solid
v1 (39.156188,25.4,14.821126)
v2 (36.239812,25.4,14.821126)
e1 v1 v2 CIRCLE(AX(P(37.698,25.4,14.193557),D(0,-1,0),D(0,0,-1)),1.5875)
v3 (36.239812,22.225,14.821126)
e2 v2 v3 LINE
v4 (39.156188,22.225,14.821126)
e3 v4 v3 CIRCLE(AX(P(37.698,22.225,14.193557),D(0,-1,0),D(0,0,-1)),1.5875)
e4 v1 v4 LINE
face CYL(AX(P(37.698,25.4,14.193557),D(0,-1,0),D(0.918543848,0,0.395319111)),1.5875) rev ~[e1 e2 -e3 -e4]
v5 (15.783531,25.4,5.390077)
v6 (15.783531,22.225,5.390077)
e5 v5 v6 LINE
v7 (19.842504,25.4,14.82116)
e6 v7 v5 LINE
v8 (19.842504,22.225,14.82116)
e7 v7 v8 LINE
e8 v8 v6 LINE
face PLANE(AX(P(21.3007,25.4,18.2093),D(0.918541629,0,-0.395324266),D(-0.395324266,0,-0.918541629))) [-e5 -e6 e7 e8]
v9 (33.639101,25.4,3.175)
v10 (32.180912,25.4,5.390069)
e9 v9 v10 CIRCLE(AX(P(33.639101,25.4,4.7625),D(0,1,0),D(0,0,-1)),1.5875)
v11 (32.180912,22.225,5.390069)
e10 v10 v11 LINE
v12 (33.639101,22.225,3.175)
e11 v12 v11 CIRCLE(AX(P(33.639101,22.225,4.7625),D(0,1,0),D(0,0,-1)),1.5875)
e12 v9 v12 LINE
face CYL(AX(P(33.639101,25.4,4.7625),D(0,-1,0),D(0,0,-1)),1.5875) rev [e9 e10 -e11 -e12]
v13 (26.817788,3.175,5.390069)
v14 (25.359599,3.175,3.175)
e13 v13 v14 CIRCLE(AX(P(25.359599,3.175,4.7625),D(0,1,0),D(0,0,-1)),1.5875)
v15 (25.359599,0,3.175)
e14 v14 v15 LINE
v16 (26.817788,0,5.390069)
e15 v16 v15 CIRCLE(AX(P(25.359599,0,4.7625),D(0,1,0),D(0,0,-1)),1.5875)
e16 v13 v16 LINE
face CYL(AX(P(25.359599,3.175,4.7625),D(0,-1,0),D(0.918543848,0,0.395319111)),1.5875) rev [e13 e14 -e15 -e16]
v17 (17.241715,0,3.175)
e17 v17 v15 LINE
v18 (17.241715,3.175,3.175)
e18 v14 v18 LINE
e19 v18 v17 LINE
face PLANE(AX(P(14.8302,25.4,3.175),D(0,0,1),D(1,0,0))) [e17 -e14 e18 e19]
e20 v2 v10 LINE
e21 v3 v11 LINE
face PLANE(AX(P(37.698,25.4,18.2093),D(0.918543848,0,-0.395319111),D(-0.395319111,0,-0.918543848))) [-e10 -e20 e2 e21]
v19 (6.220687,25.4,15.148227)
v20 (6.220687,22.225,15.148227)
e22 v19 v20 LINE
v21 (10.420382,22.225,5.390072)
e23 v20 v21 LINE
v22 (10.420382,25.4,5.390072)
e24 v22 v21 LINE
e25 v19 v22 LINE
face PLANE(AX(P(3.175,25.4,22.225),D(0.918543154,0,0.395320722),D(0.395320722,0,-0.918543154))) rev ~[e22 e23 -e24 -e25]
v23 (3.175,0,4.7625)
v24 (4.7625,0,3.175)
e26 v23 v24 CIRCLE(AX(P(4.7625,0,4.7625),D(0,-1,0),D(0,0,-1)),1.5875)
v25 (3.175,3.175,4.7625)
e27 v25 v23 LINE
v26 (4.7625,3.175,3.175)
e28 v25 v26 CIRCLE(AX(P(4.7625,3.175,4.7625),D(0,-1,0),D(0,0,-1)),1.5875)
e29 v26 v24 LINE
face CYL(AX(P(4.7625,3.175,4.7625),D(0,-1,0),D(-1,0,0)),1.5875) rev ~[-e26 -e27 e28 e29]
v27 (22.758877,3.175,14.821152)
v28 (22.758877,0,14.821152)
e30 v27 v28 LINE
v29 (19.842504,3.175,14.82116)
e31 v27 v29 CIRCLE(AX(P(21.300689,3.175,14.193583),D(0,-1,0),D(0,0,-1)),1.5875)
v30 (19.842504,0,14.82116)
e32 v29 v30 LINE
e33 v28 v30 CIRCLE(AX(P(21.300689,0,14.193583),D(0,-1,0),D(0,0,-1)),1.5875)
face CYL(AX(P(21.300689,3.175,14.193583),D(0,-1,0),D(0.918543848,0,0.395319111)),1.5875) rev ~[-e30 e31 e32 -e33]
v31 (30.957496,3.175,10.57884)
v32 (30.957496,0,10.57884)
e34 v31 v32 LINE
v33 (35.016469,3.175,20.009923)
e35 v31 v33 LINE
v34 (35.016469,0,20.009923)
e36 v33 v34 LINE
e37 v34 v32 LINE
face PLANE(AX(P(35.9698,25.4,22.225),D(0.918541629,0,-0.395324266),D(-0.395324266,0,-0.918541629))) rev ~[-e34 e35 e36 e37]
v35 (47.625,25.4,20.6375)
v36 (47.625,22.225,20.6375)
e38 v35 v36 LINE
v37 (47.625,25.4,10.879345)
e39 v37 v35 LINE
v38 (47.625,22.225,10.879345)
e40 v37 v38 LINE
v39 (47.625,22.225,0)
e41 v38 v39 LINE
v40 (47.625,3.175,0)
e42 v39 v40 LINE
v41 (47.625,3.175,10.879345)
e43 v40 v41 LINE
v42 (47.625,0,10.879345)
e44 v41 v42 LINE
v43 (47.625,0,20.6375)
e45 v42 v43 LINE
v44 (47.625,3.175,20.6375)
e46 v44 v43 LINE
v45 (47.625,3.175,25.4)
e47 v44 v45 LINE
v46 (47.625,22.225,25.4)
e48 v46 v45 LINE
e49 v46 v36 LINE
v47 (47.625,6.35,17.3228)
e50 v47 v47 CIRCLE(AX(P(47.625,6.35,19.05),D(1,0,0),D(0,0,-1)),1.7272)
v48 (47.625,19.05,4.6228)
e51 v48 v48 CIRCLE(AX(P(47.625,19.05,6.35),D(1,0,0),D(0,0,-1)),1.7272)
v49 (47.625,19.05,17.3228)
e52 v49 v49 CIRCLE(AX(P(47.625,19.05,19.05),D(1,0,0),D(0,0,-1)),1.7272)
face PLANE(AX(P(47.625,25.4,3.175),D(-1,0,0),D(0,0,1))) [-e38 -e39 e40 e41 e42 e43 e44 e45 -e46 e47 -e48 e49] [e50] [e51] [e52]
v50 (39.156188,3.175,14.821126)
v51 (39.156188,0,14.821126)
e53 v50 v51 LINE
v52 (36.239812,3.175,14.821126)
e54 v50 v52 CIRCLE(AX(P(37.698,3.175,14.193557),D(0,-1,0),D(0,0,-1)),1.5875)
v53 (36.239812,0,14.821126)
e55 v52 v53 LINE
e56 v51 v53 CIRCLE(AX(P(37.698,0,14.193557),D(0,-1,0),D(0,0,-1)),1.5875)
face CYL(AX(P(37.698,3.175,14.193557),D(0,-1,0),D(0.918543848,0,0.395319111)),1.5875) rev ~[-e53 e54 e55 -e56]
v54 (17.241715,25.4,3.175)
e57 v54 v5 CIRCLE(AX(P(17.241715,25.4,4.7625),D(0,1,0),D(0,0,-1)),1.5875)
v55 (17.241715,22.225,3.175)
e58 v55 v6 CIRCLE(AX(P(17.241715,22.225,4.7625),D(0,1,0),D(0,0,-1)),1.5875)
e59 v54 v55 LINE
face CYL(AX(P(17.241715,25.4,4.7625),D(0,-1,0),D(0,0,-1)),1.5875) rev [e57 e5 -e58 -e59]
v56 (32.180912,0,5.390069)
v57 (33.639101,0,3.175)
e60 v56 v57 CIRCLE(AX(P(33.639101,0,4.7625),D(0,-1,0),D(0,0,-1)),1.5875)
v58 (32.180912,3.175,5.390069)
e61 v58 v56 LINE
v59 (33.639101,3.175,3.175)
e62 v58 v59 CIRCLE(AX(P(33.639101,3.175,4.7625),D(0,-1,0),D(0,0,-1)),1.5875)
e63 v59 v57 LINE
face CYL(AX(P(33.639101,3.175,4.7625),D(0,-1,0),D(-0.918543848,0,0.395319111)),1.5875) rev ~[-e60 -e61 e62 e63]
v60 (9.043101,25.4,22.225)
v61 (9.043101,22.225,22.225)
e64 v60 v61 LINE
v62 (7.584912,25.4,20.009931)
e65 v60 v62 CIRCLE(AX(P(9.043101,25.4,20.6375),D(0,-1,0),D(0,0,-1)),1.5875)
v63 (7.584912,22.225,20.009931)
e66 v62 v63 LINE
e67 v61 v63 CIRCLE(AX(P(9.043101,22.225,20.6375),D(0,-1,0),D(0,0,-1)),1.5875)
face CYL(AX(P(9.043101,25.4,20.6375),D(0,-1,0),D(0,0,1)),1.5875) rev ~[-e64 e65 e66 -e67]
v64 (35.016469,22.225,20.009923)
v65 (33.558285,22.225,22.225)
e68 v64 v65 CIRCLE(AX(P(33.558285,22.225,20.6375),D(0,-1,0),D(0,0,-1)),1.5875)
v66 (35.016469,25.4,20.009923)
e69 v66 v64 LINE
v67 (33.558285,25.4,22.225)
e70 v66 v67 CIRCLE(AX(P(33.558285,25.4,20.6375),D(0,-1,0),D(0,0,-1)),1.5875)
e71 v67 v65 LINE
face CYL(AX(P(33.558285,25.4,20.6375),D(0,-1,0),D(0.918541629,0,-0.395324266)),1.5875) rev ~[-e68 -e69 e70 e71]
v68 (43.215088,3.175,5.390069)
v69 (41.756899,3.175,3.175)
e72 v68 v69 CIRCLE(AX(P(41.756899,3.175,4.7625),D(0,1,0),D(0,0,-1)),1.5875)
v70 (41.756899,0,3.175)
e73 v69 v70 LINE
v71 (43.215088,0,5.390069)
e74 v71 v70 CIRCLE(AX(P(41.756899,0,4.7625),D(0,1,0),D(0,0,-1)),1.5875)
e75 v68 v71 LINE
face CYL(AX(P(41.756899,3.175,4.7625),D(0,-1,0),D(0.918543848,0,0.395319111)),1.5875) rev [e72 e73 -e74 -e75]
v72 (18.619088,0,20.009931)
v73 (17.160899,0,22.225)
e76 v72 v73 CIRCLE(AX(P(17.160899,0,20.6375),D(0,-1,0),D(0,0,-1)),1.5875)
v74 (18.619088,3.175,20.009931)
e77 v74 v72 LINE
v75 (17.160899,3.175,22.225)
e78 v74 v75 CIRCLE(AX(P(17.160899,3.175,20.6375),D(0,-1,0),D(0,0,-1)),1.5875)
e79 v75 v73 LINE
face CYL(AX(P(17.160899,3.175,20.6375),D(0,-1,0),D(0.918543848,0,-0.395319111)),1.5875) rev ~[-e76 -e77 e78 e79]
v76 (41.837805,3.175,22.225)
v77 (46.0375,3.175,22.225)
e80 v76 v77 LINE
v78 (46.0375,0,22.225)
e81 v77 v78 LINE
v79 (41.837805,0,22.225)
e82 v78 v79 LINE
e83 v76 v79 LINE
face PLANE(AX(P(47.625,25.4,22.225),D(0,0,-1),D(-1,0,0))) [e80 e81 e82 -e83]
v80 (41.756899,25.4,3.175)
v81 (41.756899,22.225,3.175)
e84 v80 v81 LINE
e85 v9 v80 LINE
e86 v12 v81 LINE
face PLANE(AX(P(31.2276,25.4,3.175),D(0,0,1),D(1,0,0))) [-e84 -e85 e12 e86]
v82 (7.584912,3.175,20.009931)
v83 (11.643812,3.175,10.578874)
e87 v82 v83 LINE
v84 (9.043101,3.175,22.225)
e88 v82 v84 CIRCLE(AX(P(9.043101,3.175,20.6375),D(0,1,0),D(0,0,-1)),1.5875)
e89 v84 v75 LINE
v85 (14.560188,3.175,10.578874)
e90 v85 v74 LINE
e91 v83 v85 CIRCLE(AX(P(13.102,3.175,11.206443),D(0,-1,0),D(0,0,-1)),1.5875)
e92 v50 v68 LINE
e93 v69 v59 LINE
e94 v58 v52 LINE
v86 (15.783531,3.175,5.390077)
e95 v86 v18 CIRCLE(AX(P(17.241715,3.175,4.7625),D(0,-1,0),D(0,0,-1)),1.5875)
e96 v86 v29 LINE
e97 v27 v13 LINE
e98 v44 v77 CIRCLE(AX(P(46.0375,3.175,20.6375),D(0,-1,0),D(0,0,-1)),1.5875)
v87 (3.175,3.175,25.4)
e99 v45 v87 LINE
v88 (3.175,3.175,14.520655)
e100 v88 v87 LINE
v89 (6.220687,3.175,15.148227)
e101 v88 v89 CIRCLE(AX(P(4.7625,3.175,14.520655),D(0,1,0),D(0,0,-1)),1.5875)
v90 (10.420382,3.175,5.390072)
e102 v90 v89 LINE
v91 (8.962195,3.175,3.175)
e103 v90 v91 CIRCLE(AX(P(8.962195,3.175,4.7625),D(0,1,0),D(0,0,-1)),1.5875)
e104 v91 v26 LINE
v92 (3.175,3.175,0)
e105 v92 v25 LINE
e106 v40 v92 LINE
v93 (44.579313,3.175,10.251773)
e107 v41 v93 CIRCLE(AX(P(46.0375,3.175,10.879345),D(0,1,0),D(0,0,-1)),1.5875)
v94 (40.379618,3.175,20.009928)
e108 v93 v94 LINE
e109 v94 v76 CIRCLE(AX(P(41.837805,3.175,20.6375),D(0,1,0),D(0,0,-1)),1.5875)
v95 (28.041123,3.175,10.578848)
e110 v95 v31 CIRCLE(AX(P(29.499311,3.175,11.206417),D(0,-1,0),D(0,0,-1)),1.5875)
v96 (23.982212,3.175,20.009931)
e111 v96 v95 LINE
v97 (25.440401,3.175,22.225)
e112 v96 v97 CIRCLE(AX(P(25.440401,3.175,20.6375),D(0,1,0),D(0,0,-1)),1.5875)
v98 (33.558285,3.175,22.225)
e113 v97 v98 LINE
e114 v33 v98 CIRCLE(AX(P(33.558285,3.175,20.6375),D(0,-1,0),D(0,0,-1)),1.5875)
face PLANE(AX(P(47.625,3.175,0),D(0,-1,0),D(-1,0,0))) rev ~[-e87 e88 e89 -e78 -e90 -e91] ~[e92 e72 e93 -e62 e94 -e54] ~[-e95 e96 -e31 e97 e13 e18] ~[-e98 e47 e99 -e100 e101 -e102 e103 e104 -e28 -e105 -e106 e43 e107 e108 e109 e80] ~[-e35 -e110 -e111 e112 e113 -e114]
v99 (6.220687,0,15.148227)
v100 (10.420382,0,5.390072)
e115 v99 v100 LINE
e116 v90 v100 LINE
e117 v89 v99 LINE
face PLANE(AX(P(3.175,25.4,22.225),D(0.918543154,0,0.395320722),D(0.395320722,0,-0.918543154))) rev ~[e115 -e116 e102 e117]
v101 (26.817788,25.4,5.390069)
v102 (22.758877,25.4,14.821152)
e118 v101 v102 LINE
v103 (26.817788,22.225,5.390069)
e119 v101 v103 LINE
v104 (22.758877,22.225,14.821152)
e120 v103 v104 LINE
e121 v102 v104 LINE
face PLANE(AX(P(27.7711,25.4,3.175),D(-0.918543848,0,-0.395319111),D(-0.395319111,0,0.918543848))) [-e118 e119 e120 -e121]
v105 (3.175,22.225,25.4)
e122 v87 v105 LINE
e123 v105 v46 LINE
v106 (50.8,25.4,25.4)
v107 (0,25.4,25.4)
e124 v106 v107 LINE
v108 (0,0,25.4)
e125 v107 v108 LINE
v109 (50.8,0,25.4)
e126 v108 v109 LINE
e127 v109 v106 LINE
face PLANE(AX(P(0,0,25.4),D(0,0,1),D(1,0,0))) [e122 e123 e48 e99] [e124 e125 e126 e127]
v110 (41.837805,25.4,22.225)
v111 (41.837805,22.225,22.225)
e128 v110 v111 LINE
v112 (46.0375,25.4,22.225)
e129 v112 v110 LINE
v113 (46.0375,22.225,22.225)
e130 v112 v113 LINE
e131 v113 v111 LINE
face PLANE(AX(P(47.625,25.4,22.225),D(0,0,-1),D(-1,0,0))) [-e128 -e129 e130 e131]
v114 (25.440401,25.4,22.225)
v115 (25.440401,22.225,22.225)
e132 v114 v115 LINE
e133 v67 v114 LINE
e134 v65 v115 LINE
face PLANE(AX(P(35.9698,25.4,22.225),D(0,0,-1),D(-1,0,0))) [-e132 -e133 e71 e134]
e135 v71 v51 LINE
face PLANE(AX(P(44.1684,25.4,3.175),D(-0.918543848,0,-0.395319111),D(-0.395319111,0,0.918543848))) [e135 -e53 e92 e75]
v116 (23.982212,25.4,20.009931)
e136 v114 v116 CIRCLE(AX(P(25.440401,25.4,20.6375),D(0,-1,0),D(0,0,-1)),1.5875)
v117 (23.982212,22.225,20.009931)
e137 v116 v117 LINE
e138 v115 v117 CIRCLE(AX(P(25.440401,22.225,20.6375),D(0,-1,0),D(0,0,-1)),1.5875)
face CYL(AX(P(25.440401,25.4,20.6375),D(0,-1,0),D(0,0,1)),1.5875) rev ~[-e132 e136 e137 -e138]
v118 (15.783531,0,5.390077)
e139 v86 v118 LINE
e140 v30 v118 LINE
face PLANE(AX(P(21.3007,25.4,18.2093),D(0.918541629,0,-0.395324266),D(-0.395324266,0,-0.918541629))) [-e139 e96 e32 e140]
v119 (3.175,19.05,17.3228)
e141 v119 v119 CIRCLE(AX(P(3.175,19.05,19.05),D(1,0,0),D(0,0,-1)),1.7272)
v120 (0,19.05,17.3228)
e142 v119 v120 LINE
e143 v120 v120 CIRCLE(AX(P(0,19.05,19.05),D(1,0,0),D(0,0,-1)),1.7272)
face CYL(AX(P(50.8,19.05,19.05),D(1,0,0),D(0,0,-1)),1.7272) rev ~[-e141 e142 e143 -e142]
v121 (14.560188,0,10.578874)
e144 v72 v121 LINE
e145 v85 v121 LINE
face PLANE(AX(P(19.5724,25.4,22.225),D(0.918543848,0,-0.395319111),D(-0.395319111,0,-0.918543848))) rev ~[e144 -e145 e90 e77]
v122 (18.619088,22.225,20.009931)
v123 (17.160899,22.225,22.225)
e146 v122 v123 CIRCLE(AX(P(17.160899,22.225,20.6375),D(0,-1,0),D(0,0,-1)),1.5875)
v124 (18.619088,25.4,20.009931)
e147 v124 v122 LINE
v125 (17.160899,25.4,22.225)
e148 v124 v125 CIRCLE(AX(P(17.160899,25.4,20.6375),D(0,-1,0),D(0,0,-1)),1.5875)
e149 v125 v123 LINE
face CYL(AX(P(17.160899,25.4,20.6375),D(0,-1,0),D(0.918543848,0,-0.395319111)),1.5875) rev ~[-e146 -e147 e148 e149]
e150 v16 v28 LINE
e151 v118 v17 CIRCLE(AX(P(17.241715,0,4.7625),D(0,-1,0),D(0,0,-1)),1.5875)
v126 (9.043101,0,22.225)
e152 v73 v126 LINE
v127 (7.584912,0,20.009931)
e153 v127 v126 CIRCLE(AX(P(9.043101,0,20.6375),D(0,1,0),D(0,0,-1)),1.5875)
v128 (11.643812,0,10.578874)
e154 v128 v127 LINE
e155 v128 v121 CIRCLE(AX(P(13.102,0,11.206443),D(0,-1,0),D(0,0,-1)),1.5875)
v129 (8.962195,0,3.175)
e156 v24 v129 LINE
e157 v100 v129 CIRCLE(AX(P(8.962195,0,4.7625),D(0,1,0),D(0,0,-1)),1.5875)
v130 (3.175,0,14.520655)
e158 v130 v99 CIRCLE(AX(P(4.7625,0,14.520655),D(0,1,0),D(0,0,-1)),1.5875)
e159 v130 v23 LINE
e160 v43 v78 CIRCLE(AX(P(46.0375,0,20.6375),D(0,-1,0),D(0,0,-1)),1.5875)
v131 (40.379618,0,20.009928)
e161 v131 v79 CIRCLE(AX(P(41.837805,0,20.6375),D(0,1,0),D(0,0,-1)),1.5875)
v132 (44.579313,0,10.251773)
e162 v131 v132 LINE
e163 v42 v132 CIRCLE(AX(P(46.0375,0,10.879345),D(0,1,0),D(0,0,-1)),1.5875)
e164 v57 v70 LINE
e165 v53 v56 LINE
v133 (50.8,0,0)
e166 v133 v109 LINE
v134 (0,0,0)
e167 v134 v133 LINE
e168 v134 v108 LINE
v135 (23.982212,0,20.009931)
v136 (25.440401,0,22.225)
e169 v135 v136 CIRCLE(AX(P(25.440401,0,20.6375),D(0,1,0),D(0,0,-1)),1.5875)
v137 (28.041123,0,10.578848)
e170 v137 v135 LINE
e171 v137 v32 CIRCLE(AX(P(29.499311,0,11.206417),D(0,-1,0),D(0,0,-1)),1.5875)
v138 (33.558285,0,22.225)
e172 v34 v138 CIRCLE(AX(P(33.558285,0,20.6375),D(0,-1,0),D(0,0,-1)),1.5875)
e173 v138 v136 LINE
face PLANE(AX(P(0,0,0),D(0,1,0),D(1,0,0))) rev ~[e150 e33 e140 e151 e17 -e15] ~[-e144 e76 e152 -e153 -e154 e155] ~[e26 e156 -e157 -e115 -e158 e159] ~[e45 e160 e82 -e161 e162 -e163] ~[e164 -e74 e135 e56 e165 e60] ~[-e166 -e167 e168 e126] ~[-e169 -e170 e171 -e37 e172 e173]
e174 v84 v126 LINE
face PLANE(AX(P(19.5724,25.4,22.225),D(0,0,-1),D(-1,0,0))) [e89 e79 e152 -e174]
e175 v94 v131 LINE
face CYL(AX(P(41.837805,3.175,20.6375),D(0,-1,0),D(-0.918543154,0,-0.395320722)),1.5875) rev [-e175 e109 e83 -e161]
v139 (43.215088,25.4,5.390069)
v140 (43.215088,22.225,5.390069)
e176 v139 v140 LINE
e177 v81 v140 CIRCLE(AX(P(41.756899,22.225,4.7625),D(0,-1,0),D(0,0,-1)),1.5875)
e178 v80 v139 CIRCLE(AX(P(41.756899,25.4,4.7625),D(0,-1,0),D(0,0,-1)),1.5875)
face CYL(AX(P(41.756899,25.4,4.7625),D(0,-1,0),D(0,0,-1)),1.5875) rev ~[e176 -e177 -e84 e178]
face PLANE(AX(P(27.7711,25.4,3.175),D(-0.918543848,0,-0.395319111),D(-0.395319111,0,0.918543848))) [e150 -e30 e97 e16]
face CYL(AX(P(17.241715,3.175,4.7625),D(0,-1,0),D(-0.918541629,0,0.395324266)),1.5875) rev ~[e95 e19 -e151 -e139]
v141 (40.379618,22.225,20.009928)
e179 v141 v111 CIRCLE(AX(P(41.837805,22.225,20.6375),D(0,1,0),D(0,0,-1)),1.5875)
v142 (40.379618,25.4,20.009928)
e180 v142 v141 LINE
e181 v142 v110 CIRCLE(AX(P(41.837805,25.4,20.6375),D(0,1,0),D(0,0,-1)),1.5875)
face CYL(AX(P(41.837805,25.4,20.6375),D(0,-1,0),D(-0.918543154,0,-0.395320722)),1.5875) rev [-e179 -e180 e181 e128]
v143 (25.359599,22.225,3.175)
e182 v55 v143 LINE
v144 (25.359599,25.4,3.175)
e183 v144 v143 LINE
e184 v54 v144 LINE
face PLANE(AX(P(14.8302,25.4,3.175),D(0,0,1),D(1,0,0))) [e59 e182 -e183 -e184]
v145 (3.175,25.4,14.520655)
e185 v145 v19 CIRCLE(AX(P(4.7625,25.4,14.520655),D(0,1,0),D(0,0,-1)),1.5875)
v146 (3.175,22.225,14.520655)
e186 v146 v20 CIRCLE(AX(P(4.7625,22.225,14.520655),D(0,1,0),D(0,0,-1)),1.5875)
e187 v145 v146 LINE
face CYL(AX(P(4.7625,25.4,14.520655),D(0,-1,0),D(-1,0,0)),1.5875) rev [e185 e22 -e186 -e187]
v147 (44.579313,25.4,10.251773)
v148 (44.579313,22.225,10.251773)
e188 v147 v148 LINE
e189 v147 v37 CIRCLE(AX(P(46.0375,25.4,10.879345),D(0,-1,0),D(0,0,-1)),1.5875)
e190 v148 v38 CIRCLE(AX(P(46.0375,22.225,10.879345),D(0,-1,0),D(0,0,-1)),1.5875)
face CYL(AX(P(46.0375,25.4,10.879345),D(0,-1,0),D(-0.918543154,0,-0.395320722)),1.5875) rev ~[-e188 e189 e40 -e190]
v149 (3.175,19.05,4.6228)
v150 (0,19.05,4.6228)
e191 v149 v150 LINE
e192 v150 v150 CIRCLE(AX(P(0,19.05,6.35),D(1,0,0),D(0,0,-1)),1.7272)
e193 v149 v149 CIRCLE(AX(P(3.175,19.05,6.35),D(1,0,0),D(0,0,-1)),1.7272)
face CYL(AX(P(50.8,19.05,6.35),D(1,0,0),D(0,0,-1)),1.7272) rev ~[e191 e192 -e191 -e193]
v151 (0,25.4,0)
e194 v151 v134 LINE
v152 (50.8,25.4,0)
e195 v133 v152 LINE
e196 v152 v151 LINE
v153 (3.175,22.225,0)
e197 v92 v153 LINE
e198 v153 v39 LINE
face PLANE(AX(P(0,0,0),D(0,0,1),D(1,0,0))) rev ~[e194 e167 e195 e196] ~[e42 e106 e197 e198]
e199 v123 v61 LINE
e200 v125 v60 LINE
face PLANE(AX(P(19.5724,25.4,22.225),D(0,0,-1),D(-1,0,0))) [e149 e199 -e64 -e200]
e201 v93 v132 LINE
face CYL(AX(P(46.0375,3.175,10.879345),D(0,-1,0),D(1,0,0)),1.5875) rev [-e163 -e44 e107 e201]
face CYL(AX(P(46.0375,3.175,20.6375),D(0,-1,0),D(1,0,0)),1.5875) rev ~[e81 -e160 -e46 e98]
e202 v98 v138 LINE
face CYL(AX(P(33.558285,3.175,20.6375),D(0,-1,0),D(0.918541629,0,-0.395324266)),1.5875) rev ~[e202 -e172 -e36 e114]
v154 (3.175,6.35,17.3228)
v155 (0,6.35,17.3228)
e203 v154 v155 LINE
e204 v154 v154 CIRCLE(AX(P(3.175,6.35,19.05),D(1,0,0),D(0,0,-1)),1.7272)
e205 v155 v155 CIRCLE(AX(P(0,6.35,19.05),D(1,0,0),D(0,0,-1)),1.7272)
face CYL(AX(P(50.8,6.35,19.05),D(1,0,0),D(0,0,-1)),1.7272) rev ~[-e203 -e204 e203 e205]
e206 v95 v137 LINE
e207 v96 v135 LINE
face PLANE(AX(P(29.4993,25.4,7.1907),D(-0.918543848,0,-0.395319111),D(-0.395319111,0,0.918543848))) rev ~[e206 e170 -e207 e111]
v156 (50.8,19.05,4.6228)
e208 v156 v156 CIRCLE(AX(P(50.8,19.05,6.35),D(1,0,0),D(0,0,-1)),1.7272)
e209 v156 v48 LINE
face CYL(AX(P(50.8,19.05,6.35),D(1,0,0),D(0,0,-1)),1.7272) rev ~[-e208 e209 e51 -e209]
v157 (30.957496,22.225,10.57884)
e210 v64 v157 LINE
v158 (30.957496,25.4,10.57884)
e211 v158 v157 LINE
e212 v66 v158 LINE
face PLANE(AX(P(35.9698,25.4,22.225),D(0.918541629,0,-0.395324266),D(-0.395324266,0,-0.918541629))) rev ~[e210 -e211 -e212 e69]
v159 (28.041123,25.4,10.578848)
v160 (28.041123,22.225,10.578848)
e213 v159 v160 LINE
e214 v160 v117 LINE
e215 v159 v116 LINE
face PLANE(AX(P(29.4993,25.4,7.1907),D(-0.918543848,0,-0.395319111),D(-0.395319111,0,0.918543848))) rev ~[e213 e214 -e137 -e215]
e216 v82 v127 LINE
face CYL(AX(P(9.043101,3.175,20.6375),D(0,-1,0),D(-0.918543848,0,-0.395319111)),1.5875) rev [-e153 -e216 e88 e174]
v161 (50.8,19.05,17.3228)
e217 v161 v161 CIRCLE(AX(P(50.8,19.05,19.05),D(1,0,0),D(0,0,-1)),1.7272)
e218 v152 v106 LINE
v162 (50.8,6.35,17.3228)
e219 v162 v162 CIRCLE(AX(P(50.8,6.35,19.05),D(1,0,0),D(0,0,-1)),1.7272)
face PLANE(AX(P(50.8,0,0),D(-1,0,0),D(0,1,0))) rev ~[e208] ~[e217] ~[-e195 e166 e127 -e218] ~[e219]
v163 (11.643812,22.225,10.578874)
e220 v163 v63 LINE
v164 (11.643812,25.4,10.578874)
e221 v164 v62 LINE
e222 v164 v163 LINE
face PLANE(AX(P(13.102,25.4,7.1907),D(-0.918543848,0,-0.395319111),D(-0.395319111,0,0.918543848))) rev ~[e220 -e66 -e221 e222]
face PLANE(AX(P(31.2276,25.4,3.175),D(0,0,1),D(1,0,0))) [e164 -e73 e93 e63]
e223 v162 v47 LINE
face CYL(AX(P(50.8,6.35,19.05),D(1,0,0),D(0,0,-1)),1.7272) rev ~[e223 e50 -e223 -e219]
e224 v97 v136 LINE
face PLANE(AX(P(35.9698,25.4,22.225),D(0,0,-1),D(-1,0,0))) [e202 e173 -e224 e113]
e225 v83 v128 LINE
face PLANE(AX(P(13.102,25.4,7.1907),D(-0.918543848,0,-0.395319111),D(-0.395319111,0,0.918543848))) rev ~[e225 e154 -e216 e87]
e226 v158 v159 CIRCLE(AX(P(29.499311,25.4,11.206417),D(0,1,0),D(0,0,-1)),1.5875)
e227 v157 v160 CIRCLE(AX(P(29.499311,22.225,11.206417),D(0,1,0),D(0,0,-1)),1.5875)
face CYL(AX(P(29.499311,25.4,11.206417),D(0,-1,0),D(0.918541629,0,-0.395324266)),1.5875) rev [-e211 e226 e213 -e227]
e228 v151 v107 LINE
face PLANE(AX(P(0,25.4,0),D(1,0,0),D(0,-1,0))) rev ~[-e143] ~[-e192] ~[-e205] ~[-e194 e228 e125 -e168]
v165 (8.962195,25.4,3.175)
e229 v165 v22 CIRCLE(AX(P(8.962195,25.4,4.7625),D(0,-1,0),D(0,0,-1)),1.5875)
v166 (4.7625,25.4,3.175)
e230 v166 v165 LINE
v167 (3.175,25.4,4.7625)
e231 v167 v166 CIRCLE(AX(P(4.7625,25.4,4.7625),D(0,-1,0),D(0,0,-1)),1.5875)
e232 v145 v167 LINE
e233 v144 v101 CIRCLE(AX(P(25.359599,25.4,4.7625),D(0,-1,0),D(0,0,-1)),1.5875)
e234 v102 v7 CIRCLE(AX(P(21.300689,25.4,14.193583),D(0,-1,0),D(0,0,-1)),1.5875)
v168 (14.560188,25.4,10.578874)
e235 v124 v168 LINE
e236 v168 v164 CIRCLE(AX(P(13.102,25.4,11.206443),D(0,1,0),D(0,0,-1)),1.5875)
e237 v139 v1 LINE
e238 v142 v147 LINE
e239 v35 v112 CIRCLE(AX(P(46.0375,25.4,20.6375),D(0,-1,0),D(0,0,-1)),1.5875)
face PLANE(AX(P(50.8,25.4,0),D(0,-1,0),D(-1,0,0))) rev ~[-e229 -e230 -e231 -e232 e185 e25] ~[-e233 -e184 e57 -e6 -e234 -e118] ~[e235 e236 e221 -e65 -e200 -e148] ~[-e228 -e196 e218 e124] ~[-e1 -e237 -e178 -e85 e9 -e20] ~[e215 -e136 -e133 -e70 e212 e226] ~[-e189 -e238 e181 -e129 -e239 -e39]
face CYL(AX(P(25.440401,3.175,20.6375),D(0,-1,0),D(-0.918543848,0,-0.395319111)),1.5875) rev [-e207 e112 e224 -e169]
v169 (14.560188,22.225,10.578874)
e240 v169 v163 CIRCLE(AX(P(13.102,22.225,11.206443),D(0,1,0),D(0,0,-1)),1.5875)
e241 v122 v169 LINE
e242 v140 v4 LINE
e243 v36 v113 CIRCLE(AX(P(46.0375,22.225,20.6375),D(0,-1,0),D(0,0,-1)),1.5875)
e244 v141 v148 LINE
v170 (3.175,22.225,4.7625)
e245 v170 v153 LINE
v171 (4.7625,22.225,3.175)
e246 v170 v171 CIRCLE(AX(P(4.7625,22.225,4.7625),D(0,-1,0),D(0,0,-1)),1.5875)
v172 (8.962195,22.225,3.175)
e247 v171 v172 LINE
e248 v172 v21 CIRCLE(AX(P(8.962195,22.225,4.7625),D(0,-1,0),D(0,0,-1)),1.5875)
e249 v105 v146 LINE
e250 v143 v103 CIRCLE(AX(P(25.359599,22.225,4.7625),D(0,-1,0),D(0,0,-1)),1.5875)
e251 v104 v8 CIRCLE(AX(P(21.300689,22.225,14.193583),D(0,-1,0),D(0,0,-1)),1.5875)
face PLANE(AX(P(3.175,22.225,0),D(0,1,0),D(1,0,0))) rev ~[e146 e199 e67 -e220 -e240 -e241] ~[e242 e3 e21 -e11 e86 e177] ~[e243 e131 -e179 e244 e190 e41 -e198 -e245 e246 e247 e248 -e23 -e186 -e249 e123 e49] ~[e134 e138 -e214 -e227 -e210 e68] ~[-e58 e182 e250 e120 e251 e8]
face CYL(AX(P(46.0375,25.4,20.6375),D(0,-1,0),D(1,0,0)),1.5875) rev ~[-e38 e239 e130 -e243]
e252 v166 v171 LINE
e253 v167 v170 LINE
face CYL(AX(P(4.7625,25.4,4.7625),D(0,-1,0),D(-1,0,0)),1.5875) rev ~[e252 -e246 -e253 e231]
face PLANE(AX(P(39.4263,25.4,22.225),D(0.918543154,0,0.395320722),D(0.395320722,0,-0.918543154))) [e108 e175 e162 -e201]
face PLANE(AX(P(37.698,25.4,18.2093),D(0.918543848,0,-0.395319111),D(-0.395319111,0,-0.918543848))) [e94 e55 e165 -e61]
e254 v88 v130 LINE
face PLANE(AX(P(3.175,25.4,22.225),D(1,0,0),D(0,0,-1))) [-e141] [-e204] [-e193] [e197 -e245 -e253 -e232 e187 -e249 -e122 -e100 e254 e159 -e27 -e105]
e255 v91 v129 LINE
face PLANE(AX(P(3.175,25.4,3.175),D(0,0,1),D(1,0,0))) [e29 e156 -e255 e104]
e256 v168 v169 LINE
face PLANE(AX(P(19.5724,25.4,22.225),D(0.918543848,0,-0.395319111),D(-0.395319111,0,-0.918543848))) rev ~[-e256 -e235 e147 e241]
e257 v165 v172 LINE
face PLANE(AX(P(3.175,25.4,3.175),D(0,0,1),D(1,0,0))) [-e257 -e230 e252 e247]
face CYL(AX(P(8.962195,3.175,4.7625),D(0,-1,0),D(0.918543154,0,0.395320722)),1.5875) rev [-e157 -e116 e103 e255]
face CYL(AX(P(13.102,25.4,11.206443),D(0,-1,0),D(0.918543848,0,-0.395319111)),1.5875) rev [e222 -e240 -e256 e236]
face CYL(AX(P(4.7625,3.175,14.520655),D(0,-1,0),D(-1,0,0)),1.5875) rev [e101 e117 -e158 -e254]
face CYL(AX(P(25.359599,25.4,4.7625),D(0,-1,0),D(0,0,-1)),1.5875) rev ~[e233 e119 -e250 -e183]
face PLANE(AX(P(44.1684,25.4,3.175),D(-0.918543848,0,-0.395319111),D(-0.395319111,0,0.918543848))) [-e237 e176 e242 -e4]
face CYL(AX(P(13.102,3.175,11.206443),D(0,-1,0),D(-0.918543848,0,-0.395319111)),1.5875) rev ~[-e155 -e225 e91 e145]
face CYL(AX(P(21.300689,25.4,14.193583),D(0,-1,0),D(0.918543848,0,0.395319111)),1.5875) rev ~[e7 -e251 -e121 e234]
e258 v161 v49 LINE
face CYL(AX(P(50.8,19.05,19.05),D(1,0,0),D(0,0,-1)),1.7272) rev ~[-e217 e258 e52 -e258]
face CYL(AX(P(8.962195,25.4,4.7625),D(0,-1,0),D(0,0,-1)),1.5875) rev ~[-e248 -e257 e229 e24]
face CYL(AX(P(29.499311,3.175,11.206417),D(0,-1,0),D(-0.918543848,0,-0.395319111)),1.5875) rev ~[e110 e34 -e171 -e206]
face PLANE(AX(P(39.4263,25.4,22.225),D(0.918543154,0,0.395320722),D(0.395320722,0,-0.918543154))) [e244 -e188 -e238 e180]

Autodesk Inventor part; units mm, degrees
ref_plane "YZ Plane" through (0, 0, 0) normal (1, 0, 0) x (0, 1, 0)
ref_plane "XZ Plane" through (0, 0, 0) normal (0, 1, 0) x (-1, 0, 0)
ref_plane "XY Plane" through (0, 0, 0) normal (0, 0, 1) x (1, 0, 0)
sketch "Sketch1" plane through (0, 0, 0) normal (0, 0, 1) x (1, 0, 0)
  line L0 (0, 0) -> (50.8, 0)
  line L1 (50.8, 0) -> (50.8, 25.4)
  line L2 (50.8, 25.4) -> (0, 25.4)
  line L3 (0, 25.4) -> (0, 0)
  line L4 (3.175, 22.225) -> (47.625, 22.225)
  line L5 (47.625, 22.225) -> (47.625, 3.175)
  line L6 (47.625, 3.175) -> (3.175, 3.175)
  line L7 (3.175, 3.175) -> (3.175, 22.225)
  dimension "d0" = 50.8
  dimension "d1" = 25.4
  dimension "d2" = 3.175
  dimension "d3" = 3.175
  dimension "d4" = 3.175
  dimension "d5" = 3.175
extrude "Extrusion1" add sketch "Sketch1" along normal blind 25.4
sketch "Sketch2" plane through (0, 25.4, 0) normal (0, 1, 0) x (1, 0, 0)
  line L0 (0, -25.4) -> (50.8, -25.4) projected
  line L1 (50.8, 0) -> (50.8, -25.4) projected
  line L2 (0, 0) -> (0, -25.4) projected
  line L3 (3.175, -22.225) -> (3.175, -3.175)
  line L4 (47.625, -22.225) -> (3.175, -22.225)
  line L5 (3.175, -3.175) -> (47.625, -3.175)
  line L6 (27.7711, -3.175) -> (21.3007, -18.2093)
  line L7 (29.4993, -3.175) -> (21.3007, -22.225) construction
  line L8 (29.4993, -7.1907) -> (23.0289, -22.225)
  line L9 (35.9698, -22.225) -> (29.4993, -7.1907)
  line L10 (37.698, -22.225) -> (29.4993, -3.175) construction
  line L11 (37.698, -18.2093) -> (31.2276, -3.175)
  line L12 (44.1684, -3.175) -> (37.698, -18.2093)
  line L13 (45.8967, -3.175) -> (37.698, -22.225) construction
  line L14 (39.4263, -22.225) -> (47.625, -3.175)
  line L15 (47.625, -3.175) -> (47.625, -22.225)
  line L16 (21.3007, -18.2093) -> (14.8302, -3.175)
  line L17 (21.3007, -22.225) -> (13.102, -3.175) construction
  line L18 (19.5724, -22.225) -> (13.102, -7.1907)
  line L19 (13.102, -7.1907) -> (6.6316, -22.225)
  line L20 (13.102, -3.175) -> (4.9033, -22.225) construction
  line L21 (3.175, -22.225) -> (11.3737, -3.175)
  line L22 (50.8, 0) -> (0, 0) projected
  dimension "d9" = 1.5875
  dimension "d10" = 3.175
  dimension "d11" = 1.5875
  dimension "d12" = 3.175
  dimension "d13" = 1.5875
  dimension "d14" = 3.175
  dimension "d15" = 1.5875
  dimension "d16" = 3.175
  dimension "d17" = 1.5875
  dimension "d18" = 3.175
  dimension "d19" = 23.286
  dimension "d20" = 46.572
  dimension "d21" = 46.572
  dimension "d22" = 46.572
  dimension "d23" = 46.572
  dimension "d24" = 3.175
  dimension "d26" = 3.175
  dimension "d27" = 3.175
  dimension "d32" = 3.175
extrude "Extrusion2" cut sketch "Sketch2" against normal blind 76.2 contours L3 L5 L21 | L19 L18 L4 | L5 L6 L16 | L8 L9 L4 | L5 L12 L11 | L14 L15 L4
fillet "Fillet1" radius 1.5875 18 edges at (3.175, 23.8125, 3.175) (11.3737, 23.8125, 3.175) (3.175, 23.8125, 22.225) (13.102, 23.8125, 7.1907) (6.6316, 23.8125, 22.225) (19.5724, 23.8125, 22.225) (14.8302, 23.8125, 3.175) (21.3007, 23.8125, 18.2093) (27.7711, 23.8125, 3.175) (29.4993, 23.8125, 7.1907) (23.0289, 23.8125, 22.225) (35.9698, 23.8125, 22.225) (31.2276, 23.8125, 3.175) (37.698, 23.8125, 18.2093) (44.1684, 23.8125, 3.175) (47.625, 23.8125, 3.175) (39.4263, 23.8125, 22.225) (47.625, 23.8125, 22.225)
fillet "Fillet2" radius 1.5875 18 edges at (11.3737, 1.5875, 3.175) (3.175, 1.5875, 3.175) (3.175, 1.5875, 22.225) (6.6316, 1.5875, 22.225) (13.102, 1.5875, 7.1907) (19.5724, 1.5875, 22.225) (21.3007, 1.5875, 18.2093) (14.8302, 1.5875, 3.175) (27.7711, 1.5875, 3.175) (29.4993, 1.5875, 7.1907) (23.0289, 1.5875, 22.225) (35.9698, 1.5875, 22.225) (37.698, 1.5875, 18.2093) (31.2276, 1.5875, 3.175) (44.1684, 1.5875, 3.175) (47.625, 1.5875, 3.175) (39.4263, 1.5875, 22.225) (47.625, 1.5875, 22.225)
sketch "Sketch3" plane through (50.8, 0, 0) normal (1, 0, 0) x (0, 0, -1)
  line L0 (-25.4, 25.4) -> (-25.4, 0) projected
  line L1 (0, 0) -> (-25.4, 0) projected
  line L2 (0, 0) -> (0, 25.4) projected
  line L3 (0, 25.4) -> (-25.4, 25.4) projected
  circle A0 centre (-19.05, 19.05) radius 1.7272
  circle A1 centre (-19.05, 6.35) radius 1.7272
  circle A2 centre (-6.35, 19.05) radius 1.7272
  dimension "d33" = 3.4544
  dimension "d34" = 6.35
  dimension "d35" = 6.35
  dimension "d36" = 6.35
  dimension "d37" = 6.35
extrude "Extrusion3" cut sketch "Sketch3" against normal through all contours A0 | A1 | A2
equation "\"d3\" = d2"
equation "\"d4\" = d2"
equation "\"d5\" = d2"
equation "\"d10\" = 2 * d9"
equation "\"d11\" = d9"
equation "\"d12\" = d10"
equation "\"d13\" = d11"
equation "\"d15\" = d13"
equation "\"d16\" = d14"
equation "\"d17\" = d15"
equation "\"d18\" = d16"
equation "\"d20\" = 2 * d19"
equation "\"d21\" = d20"
equation "\"d22\" = d21"
equation "\"d23\" = d22"
equation "\"d36\" = d35"
equation "\"d37\" = d34"
properties part number "1x2 Aluminum Tube Corner Post"
